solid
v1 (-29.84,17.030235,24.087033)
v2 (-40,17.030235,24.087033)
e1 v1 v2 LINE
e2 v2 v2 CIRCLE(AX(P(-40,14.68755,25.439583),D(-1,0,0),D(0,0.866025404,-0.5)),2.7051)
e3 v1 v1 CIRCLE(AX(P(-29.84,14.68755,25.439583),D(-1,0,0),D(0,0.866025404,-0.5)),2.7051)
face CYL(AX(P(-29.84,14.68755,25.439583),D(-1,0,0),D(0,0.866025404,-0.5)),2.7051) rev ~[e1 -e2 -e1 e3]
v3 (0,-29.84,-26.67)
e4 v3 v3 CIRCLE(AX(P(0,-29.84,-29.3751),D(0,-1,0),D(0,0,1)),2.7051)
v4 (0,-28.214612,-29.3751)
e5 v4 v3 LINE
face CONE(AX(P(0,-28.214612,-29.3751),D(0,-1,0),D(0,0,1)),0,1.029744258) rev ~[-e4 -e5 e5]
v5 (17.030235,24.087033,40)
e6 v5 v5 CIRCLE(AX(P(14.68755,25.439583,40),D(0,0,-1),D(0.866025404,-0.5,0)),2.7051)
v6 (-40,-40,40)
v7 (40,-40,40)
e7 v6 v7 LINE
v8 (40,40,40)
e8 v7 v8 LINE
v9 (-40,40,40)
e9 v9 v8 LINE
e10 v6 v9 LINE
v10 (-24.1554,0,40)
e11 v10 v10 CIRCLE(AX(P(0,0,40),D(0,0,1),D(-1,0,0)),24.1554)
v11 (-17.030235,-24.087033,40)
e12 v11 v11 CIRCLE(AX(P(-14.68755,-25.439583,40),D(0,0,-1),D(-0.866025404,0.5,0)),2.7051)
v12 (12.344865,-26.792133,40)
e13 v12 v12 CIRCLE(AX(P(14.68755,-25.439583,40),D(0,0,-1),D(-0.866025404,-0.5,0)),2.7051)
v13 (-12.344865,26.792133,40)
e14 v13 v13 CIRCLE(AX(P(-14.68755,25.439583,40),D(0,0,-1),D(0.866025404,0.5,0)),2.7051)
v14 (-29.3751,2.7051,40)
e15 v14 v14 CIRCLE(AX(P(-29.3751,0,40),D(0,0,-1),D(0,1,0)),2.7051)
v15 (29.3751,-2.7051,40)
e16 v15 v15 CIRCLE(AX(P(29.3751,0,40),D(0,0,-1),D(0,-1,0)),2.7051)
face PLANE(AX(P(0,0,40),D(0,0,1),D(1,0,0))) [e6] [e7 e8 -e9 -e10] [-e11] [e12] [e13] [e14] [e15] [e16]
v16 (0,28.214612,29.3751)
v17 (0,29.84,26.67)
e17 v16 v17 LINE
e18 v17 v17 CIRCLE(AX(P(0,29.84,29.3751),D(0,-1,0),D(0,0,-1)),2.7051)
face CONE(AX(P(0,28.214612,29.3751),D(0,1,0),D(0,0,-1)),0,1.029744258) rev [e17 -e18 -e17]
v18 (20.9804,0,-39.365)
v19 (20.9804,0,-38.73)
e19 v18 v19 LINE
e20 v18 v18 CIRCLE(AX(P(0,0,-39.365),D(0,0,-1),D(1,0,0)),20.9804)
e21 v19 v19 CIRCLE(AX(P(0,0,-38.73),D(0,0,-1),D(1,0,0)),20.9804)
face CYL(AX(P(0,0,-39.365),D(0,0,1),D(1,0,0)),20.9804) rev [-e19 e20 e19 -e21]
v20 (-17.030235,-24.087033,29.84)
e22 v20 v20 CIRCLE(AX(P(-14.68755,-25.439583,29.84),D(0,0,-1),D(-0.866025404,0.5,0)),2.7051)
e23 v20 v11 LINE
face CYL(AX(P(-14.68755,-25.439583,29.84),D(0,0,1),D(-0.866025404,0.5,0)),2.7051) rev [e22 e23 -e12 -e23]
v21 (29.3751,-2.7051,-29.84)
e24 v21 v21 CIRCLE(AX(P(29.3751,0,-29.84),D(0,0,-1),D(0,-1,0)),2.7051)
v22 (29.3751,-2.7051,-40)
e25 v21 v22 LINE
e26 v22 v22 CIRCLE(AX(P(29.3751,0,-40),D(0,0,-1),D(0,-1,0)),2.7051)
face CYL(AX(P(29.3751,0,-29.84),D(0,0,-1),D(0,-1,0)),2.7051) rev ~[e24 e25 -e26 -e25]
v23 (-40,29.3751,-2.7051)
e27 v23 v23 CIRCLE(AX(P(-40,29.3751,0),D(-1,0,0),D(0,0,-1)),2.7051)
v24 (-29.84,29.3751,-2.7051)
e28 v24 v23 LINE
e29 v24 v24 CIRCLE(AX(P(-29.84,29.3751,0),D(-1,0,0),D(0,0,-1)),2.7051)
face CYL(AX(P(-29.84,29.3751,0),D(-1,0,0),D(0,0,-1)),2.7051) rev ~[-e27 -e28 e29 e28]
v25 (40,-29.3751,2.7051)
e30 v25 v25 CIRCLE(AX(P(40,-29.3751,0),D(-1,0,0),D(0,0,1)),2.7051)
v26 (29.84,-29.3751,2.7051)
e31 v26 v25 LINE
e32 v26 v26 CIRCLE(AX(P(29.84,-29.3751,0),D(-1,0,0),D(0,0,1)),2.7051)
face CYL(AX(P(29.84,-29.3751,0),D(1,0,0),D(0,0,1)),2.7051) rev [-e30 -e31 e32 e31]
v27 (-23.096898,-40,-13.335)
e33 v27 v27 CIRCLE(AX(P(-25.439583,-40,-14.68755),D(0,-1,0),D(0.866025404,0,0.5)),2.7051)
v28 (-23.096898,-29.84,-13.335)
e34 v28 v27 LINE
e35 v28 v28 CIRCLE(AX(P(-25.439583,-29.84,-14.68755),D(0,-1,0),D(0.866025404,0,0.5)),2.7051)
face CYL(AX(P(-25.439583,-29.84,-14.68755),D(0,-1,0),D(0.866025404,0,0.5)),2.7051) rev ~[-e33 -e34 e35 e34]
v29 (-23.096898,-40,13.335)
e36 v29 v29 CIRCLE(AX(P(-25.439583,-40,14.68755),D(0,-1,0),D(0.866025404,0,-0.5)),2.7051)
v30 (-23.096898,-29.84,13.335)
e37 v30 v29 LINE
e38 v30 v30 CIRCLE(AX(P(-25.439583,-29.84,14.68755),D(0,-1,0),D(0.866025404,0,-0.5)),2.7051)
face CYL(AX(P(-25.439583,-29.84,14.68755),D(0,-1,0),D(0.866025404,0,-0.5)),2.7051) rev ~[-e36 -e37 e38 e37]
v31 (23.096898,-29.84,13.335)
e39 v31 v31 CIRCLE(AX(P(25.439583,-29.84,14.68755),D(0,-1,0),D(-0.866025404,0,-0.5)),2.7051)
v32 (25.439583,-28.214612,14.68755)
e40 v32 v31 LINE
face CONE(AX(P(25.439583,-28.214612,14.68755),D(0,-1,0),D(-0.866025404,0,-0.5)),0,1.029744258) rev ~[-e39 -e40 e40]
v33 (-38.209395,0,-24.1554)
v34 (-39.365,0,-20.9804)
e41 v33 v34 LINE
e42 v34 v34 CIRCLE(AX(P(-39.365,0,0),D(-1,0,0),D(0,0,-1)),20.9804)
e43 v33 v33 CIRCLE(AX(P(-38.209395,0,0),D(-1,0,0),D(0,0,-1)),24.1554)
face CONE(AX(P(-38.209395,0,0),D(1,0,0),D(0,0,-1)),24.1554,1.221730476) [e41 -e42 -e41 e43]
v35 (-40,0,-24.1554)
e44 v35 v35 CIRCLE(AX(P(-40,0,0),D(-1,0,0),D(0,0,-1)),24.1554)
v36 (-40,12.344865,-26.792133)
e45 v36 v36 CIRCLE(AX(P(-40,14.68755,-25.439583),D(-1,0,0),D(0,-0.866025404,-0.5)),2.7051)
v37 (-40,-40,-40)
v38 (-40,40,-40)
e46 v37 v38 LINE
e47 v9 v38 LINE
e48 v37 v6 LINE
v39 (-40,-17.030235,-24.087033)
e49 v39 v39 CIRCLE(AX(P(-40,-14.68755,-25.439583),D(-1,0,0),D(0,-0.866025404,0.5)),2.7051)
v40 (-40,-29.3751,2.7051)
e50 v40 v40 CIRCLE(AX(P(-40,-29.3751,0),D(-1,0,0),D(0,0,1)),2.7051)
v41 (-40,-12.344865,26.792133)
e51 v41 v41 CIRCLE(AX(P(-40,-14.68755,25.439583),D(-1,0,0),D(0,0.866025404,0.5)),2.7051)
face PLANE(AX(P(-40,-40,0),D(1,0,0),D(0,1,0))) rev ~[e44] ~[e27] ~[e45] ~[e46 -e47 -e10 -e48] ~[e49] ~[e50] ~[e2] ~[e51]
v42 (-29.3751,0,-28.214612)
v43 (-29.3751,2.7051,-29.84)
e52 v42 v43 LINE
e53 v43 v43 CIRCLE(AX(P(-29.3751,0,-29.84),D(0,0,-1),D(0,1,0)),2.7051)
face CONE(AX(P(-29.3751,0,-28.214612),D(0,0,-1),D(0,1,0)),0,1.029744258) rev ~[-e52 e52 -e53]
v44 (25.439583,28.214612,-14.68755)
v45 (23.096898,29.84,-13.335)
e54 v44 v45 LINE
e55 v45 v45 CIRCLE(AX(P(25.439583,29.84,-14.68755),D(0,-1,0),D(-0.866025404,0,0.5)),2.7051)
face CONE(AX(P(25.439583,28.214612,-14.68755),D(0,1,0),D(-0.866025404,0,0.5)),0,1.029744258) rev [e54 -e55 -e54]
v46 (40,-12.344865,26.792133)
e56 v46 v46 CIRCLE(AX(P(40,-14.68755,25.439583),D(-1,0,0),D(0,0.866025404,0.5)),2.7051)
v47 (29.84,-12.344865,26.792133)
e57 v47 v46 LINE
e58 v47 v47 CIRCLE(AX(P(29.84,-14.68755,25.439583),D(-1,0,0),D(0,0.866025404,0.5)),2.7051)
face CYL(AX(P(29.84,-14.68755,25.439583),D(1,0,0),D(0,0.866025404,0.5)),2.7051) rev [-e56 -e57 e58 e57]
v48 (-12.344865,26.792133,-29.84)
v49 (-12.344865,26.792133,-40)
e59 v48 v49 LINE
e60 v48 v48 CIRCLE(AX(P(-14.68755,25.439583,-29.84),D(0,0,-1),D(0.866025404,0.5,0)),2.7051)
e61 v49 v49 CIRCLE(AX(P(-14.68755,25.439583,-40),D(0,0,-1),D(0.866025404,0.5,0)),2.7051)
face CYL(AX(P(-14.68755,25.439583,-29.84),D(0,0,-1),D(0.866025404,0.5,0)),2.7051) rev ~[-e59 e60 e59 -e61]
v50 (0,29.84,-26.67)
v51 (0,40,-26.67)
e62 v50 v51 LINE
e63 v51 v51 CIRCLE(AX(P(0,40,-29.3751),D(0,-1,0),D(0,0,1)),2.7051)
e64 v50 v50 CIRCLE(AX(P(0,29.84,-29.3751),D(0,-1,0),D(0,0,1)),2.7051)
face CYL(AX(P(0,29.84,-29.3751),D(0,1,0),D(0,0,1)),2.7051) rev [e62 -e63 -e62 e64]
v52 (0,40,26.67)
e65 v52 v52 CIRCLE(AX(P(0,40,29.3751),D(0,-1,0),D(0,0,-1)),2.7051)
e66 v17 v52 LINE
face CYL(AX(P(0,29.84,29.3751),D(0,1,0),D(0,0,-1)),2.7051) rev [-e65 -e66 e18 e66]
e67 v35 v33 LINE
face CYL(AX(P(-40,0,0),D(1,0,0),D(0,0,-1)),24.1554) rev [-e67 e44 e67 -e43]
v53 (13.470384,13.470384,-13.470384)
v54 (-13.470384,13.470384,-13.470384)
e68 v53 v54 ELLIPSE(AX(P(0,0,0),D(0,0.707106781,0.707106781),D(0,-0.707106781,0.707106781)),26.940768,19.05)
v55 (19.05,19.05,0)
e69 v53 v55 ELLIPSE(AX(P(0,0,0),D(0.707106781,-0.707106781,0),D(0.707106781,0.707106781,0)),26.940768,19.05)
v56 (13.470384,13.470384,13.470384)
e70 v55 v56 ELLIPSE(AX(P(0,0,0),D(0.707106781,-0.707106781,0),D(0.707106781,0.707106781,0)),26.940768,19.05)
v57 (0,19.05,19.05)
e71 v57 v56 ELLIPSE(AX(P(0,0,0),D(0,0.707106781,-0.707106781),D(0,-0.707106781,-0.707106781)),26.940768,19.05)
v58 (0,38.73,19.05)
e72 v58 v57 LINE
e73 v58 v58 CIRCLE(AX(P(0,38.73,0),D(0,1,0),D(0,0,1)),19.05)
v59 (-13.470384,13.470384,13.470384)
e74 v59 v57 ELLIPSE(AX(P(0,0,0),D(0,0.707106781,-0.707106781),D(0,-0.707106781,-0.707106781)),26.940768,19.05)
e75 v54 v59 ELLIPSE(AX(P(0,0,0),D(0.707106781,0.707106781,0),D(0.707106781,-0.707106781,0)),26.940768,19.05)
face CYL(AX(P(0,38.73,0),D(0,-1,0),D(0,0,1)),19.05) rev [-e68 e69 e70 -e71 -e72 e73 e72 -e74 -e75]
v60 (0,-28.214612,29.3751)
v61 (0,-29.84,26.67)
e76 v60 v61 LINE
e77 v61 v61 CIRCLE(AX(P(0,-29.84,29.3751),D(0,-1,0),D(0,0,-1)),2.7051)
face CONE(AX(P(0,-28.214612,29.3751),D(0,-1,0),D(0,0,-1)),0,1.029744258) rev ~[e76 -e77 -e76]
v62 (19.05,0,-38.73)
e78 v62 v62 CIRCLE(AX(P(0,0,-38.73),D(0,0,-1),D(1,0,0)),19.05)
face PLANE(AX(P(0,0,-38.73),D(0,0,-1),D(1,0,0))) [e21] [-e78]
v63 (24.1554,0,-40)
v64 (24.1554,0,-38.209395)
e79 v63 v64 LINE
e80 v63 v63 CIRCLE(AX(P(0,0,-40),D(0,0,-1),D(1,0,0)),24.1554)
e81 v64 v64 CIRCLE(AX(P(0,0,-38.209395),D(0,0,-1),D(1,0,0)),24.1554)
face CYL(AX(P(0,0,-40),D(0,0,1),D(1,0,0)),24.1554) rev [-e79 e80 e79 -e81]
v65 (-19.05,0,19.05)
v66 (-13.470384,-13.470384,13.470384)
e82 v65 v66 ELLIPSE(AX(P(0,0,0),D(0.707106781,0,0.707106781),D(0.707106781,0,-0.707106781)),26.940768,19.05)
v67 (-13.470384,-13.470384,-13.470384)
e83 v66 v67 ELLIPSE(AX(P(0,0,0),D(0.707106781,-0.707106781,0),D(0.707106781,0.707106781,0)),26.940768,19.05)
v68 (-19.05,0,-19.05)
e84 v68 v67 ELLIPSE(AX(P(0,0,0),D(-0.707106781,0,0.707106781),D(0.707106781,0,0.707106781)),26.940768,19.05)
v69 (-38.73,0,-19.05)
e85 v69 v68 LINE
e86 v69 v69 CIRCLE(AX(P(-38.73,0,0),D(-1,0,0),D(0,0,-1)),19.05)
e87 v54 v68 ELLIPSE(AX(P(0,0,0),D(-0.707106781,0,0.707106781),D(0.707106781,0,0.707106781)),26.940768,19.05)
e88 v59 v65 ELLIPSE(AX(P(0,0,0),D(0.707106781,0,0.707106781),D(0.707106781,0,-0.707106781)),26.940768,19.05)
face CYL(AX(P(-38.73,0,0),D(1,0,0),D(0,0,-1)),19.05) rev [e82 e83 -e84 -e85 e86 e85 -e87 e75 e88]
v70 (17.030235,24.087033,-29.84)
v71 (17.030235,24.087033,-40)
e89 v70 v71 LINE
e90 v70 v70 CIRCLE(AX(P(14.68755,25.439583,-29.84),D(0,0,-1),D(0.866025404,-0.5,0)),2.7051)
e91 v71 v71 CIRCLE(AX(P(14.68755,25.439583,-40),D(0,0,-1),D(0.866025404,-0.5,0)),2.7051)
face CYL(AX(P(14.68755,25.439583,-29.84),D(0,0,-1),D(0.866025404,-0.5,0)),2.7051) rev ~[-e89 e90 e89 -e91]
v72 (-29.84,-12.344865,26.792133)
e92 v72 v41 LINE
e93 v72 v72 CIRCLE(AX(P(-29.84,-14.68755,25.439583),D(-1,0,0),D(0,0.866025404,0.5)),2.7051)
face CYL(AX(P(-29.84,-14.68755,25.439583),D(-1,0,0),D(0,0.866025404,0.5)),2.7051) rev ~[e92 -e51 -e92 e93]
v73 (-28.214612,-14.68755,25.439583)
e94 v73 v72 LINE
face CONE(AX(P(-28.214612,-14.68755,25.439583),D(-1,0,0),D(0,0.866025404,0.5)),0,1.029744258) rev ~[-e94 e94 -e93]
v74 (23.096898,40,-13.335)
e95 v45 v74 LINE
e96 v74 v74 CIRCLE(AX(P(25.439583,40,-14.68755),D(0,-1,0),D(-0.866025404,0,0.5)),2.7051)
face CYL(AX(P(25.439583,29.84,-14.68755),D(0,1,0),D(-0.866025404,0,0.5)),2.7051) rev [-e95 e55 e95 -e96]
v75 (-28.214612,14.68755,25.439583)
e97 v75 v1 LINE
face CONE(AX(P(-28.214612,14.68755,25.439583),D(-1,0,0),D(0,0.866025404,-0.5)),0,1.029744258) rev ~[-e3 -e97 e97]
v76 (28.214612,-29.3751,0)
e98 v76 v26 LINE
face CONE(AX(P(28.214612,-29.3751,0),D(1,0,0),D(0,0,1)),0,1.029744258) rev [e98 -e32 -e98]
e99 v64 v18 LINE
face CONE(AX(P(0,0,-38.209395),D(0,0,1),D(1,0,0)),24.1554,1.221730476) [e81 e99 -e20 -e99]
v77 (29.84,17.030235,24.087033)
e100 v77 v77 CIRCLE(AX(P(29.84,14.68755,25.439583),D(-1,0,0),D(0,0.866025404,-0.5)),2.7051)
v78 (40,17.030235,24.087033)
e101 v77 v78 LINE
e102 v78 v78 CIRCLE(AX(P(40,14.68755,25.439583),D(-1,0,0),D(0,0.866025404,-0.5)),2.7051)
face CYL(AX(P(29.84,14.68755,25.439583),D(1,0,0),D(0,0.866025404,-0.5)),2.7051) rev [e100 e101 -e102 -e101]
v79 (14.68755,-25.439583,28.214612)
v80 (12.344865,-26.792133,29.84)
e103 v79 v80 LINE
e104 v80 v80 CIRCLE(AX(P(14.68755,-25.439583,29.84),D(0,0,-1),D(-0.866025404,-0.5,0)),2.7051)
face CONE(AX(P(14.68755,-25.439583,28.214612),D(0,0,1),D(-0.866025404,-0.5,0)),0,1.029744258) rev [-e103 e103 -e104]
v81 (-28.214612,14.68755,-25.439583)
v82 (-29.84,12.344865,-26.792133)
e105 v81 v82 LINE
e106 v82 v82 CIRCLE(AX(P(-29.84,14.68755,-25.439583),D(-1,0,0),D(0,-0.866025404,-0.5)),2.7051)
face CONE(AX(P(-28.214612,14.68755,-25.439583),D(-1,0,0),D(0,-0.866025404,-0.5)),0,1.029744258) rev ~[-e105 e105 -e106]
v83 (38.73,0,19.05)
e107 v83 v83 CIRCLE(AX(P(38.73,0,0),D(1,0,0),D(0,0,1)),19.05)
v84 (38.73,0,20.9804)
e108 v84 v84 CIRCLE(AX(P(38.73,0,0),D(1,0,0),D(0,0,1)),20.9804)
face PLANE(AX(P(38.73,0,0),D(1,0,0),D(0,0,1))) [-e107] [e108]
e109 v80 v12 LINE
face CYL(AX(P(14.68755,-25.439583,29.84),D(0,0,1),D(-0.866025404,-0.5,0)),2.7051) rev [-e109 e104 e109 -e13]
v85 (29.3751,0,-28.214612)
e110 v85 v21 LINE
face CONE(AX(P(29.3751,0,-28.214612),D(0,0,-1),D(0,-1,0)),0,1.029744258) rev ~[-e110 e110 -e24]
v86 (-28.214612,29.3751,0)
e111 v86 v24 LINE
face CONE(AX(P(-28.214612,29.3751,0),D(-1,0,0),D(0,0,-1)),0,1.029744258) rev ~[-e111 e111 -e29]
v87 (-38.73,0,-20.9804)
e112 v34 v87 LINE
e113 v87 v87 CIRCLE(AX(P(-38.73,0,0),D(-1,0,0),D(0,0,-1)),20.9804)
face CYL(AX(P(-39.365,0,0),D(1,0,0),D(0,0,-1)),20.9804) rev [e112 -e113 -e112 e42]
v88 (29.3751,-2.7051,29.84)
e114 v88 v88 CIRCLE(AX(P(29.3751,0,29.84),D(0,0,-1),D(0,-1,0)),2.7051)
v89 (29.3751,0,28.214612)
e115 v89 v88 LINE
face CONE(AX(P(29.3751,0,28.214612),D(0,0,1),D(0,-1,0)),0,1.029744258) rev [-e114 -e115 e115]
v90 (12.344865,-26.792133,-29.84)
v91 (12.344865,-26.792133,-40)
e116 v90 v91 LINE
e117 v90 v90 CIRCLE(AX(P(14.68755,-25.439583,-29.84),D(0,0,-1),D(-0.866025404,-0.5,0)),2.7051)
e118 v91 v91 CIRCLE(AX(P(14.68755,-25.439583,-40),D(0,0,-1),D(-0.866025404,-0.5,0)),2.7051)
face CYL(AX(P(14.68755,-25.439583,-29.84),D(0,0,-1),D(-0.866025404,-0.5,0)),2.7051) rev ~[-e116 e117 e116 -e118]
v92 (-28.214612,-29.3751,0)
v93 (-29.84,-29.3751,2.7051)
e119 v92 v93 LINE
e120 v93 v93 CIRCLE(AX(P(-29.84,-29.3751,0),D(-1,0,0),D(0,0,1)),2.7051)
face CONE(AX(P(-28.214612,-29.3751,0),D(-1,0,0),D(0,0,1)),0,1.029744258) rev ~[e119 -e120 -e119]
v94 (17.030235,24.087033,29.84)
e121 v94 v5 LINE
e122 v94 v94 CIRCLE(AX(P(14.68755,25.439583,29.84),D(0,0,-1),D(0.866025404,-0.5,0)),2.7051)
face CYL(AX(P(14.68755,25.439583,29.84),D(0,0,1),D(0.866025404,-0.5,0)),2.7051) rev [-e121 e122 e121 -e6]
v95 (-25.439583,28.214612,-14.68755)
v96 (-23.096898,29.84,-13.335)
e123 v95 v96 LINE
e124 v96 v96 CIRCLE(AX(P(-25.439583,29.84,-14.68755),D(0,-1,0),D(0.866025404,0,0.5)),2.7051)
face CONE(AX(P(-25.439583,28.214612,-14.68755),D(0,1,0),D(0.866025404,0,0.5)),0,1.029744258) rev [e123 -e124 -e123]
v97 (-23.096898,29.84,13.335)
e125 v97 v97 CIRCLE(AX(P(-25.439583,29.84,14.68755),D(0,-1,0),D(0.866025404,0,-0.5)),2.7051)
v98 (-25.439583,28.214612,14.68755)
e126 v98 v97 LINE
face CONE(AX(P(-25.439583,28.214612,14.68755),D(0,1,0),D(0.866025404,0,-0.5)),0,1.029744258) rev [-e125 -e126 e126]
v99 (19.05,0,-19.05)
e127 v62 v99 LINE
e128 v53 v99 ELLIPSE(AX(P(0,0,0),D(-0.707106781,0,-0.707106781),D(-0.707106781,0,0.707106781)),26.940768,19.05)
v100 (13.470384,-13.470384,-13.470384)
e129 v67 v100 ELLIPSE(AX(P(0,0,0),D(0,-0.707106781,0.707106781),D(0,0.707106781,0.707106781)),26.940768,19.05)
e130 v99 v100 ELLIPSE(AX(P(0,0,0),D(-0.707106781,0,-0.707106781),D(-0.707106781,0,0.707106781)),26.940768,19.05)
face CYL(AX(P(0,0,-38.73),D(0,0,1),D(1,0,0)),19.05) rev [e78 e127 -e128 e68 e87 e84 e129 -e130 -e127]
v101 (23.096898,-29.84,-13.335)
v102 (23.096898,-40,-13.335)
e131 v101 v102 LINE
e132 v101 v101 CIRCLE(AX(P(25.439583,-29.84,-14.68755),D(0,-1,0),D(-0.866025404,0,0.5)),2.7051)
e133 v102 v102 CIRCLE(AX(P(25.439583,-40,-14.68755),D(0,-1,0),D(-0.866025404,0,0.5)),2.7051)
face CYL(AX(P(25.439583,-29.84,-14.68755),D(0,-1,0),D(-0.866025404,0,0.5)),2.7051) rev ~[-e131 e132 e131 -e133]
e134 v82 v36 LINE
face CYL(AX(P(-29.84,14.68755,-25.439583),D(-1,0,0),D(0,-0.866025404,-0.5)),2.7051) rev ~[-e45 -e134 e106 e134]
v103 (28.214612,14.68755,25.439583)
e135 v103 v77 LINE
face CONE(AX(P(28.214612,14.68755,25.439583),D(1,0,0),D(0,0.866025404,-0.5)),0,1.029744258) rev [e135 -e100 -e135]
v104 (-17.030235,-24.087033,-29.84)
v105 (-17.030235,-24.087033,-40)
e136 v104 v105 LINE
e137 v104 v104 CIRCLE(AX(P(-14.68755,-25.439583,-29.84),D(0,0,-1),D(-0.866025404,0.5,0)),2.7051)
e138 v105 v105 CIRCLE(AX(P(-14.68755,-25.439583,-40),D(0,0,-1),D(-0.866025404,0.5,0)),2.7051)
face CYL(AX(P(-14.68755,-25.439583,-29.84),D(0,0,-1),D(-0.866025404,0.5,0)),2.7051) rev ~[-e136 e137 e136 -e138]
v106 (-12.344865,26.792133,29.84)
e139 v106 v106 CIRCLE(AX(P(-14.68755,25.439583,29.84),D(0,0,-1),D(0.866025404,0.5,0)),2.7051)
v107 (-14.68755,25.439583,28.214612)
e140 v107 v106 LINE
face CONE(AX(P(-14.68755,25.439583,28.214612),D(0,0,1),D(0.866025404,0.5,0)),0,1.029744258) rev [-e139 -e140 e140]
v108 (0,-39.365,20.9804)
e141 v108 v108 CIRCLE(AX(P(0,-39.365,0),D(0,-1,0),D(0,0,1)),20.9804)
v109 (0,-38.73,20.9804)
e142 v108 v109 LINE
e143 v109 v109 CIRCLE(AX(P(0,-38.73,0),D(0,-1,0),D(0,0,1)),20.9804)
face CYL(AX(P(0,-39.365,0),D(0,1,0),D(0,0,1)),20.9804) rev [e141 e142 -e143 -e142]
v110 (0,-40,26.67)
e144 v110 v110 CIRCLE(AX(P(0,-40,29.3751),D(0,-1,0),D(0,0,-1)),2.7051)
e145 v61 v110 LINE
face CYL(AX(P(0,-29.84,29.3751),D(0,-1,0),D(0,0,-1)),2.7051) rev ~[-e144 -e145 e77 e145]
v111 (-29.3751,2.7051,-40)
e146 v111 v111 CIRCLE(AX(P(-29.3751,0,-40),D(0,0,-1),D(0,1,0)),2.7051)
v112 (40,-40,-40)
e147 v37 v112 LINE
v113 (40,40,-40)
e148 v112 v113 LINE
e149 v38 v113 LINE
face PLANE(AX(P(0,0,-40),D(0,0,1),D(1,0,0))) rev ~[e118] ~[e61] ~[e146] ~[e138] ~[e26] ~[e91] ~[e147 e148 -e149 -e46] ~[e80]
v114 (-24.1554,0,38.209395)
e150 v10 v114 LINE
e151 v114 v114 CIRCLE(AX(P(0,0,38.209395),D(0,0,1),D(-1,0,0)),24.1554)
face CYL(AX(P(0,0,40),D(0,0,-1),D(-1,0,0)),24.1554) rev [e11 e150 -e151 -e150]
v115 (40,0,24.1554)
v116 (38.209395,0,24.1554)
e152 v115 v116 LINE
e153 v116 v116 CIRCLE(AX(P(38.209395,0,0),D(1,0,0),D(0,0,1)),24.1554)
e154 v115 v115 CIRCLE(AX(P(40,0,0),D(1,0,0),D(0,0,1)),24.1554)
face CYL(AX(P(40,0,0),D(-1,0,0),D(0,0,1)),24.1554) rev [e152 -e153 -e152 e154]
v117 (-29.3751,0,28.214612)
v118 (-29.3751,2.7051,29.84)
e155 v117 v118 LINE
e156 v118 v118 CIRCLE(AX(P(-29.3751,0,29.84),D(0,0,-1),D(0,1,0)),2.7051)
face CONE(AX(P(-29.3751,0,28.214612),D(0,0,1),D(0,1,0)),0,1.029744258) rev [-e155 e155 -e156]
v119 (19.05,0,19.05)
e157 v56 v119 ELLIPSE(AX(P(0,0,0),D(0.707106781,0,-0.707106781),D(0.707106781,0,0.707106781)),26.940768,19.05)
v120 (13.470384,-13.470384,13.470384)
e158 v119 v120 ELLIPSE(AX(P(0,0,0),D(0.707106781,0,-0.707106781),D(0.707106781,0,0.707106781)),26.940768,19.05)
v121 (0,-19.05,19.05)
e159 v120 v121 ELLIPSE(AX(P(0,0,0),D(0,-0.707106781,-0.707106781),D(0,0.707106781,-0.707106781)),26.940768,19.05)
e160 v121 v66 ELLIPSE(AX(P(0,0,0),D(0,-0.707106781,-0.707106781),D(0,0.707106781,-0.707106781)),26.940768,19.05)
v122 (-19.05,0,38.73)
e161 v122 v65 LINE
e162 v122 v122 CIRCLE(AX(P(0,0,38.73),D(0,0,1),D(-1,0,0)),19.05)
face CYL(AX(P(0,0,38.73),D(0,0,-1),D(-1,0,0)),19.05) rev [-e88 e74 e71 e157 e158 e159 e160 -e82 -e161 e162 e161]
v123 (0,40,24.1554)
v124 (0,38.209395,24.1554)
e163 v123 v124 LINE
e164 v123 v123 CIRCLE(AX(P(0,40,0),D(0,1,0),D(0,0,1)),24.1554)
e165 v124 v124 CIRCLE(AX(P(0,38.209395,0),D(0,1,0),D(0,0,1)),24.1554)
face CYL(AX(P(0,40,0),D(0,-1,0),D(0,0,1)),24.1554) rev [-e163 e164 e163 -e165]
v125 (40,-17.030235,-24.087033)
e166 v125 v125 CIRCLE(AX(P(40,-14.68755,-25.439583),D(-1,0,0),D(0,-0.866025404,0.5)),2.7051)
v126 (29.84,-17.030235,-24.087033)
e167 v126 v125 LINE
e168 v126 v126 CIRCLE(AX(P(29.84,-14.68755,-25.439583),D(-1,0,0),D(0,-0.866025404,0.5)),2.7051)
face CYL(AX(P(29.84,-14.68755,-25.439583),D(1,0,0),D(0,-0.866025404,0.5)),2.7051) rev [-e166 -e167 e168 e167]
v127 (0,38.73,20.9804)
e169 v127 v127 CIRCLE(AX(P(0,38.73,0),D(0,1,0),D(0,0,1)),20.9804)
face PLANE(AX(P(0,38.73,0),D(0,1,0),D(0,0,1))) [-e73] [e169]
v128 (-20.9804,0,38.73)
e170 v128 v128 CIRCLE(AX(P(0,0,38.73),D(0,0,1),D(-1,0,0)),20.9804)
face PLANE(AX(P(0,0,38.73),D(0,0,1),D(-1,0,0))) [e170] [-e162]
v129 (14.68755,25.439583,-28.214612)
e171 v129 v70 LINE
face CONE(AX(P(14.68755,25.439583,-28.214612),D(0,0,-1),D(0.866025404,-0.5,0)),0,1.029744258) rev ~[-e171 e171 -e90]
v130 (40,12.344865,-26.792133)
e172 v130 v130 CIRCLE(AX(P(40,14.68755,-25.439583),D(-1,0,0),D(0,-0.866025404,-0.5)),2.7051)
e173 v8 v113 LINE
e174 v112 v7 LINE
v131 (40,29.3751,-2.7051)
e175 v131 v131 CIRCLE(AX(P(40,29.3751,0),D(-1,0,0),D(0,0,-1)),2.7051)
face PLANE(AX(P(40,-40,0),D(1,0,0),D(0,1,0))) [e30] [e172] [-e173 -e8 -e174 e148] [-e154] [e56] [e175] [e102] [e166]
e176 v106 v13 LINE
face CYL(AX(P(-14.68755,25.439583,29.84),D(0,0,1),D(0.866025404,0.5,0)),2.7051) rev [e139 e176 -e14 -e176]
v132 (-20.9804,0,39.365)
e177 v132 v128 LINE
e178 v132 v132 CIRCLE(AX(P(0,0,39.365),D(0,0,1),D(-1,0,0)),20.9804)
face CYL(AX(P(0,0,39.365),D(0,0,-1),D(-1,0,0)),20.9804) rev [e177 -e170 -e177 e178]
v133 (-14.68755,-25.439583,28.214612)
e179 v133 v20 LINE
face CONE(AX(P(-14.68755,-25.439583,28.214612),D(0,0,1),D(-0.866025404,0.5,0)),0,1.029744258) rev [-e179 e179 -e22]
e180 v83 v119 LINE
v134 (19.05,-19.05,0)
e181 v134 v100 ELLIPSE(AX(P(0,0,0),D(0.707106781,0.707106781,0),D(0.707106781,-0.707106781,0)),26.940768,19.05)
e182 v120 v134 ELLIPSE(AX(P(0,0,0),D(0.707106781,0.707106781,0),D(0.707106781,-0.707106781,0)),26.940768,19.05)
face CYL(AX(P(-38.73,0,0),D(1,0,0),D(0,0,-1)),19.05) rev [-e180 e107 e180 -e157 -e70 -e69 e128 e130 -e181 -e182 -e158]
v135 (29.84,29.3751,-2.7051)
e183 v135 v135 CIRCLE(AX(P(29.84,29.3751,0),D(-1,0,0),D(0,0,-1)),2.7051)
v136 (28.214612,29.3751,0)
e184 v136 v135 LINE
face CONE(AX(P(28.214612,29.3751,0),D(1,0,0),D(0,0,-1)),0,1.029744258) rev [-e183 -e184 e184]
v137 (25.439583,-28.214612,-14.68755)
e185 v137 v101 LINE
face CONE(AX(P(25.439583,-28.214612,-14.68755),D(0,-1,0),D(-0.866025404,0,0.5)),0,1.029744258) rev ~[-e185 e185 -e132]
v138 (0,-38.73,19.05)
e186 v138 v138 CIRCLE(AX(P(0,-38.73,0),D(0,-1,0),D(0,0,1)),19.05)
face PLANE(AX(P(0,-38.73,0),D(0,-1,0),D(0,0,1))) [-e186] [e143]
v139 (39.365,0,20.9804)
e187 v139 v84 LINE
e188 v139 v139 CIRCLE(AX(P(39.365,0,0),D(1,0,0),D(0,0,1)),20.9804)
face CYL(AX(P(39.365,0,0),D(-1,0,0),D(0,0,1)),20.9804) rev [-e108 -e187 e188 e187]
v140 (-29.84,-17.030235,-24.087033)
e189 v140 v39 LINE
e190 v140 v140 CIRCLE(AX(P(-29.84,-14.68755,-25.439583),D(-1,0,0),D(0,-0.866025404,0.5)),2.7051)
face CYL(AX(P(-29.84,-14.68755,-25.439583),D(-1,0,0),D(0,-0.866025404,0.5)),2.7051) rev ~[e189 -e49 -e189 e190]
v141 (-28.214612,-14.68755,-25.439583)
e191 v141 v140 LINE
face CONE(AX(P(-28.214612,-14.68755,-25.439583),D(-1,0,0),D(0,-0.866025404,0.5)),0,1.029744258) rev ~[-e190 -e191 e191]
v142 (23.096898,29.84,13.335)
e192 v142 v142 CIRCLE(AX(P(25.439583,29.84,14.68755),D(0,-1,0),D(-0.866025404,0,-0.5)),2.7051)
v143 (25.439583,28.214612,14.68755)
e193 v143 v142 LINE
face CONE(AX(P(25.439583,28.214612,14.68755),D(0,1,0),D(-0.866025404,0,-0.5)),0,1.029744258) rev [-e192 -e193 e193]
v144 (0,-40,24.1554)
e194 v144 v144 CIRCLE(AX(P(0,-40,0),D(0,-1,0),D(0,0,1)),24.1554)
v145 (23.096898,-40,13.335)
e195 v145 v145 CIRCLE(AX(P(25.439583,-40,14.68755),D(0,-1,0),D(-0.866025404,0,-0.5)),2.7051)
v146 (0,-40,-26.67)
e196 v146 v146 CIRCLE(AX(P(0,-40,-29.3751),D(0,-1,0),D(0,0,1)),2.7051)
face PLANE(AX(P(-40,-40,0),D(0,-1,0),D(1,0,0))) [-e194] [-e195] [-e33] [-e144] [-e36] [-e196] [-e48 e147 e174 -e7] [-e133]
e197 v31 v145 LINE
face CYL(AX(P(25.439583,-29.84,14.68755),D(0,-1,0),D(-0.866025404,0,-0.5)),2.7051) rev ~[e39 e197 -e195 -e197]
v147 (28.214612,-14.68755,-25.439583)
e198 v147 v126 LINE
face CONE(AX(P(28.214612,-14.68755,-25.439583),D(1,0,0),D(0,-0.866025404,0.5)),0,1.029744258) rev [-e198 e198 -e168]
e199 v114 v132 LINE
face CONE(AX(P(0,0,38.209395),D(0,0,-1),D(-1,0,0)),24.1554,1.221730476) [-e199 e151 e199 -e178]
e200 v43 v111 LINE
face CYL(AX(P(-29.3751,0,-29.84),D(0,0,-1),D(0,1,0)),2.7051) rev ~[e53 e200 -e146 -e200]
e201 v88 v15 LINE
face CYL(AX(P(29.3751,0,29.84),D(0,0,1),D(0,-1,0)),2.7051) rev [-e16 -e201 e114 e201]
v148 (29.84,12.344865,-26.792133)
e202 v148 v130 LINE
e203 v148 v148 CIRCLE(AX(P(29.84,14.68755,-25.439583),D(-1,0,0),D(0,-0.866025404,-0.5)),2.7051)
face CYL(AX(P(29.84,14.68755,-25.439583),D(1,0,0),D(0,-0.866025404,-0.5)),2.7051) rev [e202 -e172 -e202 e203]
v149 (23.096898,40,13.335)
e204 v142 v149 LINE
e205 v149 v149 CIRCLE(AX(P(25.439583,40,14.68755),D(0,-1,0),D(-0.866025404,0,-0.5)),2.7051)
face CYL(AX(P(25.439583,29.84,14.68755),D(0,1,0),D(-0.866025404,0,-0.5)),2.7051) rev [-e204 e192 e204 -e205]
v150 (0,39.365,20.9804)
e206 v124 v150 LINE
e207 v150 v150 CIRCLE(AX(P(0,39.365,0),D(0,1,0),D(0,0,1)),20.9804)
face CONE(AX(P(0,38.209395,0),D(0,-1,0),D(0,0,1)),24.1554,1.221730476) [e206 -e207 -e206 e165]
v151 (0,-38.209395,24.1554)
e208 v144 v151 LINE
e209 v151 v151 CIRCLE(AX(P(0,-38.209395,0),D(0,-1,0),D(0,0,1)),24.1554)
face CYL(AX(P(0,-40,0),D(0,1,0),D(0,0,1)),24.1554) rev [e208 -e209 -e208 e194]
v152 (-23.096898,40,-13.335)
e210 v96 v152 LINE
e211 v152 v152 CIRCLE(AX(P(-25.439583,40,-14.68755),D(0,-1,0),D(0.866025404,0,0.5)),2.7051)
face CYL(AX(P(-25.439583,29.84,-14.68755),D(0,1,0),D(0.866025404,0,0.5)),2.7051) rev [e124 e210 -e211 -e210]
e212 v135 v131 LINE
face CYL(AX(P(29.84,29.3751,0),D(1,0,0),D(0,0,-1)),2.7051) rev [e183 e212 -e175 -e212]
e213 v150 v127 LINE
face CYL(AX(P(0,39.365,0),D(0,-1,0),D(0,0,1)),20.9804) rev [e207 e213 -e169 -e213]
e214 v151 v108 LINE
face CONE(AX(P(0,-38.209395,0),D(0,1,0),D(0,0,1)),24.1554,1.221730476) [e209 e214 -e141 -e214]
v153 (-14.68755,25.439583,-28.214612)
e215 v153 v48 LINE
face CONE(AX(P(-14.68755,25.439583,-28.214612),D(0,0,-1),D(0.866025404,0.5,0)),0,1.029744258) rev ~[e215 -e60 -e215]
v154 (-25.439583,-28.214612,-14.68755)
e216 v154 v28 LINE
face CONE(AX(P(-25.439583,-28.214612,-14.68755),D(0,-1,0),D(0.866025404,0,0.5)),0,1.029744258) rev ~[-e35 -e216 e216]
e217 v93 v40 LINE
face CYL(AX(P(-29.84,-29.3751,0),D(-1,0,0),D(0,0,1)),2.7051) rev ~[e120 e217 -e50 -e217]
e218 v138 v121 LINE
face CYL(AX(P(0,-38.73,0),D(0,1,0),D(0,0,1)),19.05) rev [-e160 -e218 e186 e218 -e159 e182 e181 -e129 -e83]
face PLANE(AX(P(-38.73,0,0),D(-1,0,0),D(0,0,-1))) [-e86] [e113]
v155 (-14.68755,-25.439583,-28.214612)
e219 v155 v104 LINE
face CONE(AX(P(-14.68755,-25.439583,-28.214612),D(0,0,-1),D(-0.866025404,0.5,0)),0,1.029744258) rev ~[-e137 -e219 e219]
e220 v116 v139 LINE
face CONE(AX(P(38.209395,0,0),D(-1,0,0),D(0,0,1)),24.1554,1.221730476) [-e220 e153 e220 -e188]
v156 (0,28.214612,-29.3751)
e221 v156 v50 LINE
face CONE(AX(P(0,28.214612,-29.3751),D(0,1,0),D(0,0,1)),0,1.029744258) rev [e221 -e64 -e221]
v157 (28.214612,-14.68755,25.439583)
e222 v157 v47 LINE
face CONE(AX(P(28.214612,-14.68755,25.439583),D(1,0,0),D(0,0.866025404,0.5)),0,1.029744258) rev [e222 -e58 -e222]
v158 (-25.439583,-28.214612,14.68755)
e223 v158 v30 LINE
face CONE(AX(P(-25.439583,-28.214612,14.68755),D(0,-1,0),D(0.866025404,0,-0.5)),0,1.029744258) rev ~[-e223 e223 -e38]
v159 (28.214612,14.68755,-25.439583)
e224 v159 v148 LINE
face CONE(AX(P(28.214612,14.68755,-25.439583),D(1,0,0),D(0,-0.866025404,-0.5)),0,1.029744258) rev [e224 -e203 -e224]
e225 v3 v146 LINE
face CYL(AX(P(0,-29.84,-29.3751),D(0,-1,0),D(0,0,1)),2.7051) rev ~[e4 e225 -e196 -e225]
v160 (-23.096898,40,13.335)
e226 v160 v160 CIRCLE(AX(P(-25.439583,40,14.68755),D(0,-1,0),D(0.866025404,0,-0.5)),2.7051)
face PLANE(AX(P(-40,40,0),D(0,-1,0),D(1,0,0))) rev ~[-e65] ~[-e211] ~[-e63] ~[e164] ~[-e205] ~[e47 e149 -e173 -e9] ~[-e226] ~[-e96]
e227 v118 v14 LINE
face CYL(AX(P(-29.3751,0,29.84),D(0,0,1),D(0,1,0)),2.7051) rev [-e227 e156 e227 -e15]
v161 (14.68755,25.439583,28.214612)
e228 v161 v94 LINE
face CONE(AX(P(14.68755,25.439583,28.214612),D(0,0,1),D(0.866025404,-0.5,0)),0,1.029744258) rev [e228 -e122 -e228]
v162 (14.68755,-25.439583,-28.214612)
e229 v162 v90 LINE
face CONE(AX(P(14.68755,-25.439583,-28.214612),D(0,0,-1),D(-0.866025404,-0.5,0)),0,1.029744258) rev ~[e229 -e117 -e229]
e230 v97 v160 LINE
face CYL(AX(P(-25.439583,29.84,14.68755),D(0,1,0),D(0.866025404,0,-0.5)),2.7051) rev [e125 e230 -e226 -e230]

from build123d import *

# Parameters (mm, degrees)
SKETCH1_W           = 80
SKETCH1_H           = 80
BOSS_EXTRUDE1_DEPTH = 40
CIRPATTERN1_COUNT   = 6
CIRPATTERN2_COUNT   = 6
CIRPATTERN3_COUNT   = 6
CIRPATTERN4_COUNT   = 4
CIRPATTERN5_COUNT   = 4


with BuildPart() as part:
    # Sketch1 → Boss-Extrude1 (new, symmetric)
    with BuildSketch(Plane.XY):
        Rectangle(SKETCH1_W, SKETCH1_H)
    extrude(amount=BOSS_EXTRUDE1_DEPTH, both=True)

    # Sketch6 → Cut-Revolve1 (revolve, cut)
    with BuildSketch(Plane.XY):
        Polygon((40, 24.1554), (38.209394506, 24.1554), (39.365, 20.9804), (38.73, 20.9804), (38.73, 19.05), (0, 19.05), (0, 0), (40, 0), align=None)
    cut_revolve1 = revolve(axis=Axis((40, 0, 0), (1, 0, 0)), mode=Mode.SUBTRACT)

    # Sketch5 → Tapped Hole0 (revolve, cut)
    with BuildSketch(Plane(origin=(40, 29.3751, 0), x_dir=(0, 0, -1), z_dir=(0, 1, 0))):
        Polygon((0, 0), (0, 11.785388009), (2.705099913, 10.16), (2.705099913, 0), align=None)
    tapped_hole0 = revolve(axis=Axis((46.35, 29.3751, 0), (-1, 0, 0)), mode=Mode.SUBTRACT)

    # Sketch8 → Tapped Hole1 (revolve, cut)
    with BuildSketch(Plane(origin=(0, 40, -29.3751), x_dir=(0, 0, 1), z_dir=(1, 0, 0))):
        Polygon((0, 0), (0, 11.785388009), (2.705099913, 10.16), (2.705099913, 0), align=None)
    tapped_hole1 = revolve(axis=Axis((0, 46.35, -29.3751), (0, -1, 0)), mode=Mode.SUBTRACT)

    # Sketch10 → Tapped Hole2 (revolve, cut)
    with BuildSketch(Plane(origin=(29.3751, 0, 40), x_dir=(0, -1, 0), z_dir=(1, 0, 0))):
        Polygon((0, 0), (0, 11.785388009), (2.705099913, 10.16), (2.705099913, 0), align=None)
    tapped_hole2 = revolve(axis=Axis((29.3751, 0, 46.35), (0, 0, -1)), mode=Mode.SUBTRACT)

    # CirPattern1: Tapped Hole0 ×6 about axis
    cirpattern1_axis = Axis((-38.4175, 0, 0), (1, 0, 0))
    for i in range(1, CIRPATTERN1_COUNT):
        add(tapped_hole0.rotate(cirpattern1_axis, i * 360 / CIRPATTERN1_COUNT), mode=Mode.SUBTRACT)

    # CirPattern2: Tapped Hole1 ×6 about axis
    cirpattern2_axis = Axis((0, 38.4175, 0), (0, -1, 0))
    for i in range(1, CIRPATTERN2_COUNT):
        add(tapped_hole1.rotate(cirpattern2_axis, i * 360 / CIRPATTERN2_COUNT), mode=Mode.SUBTRACT)

    # CirPattern3: Tapped Hole2 ×6 about axis
    cirpattern3_axis = Axis((0, 0, 38.4175), (0, 0, -1))
    for i in range(1, CIRPATTERN3_COUNT):
        add(tapped_hole2.rotate(cirpattern3_axis, i * 360 / CIRPATTERN3_COUNT), mode=Mode.SUBTRACT)

    # CirPattern4: Cut-Revolve1 ×4 about axis
    cirpattern4_axis = Axis((0, 38.4175, 0), (0, -1, 0))
    for i in range(1, CIRPATTERN4_COUNT):
        add(cut_revolve1.rotate(cirpattern4_axis, i * 360 / CIRPATTERN4_COUNT), mode=Mode.SUBTRACT)

    # CirPattern5: Cut-Revolve1 ×4 about axis, 1 skipped
    cirpattern5_axis = Axis((0, 0, 38.4175), (0, 0, -1))
    add([cut_revolve1.rotate(cirpattern5_axis, i * 360 / CIRPATTERN5_COUNT) for i in range(1, CIRPATTERN5_COUNT) if i not in (2,)], mode=Mode.SUBTRACT)

    # Mirror1 copy 1 sketch → Mirror1 copy 1 (revolve, cut)
    with BuildSketch(Plane(origin=(14.68755, -25.439582839, -40), x_dir=(-0.8660254037844386, -0.5000000000000001, 0), z_dir=(0.5000000000000001, -0.8660254037844386, 0))):
        Polygon((0, 0), (0, -11.785388009), (2.705099913, -10.16), (2.705099913, 0), align=None)
    revolve(axis=Axis((14.68755, -25.439582839, -46.35), (0, 0, -1)), mode=Mode.SUBTRACT)

    # Mirror1 copy 2 sketch → Mirror1 copy 2 (revolve, cut)
    with BuildSketch(Plane(origin=(-14.68755, -25.439582839, -40), x_dir=(-0.8660254037844387, 0.4999999999999998, 0), z_dir=(-0.4999999999999998, -0.8660254037844387, 0))):
        Polygon((0, 0), (0, -11.785388009), (2.705099913, -10.16), (2.705099913, 0), align=None)
    revolve(axis=Axis((-14.68755, -25.439582839, -46.35), (0, 0, -1)), mode=Mode.SUBTRACT)

    # Mirror1 copy 3 sketch → Mirror1 copy 3 (revolve, cut)
    with BuildSketch(Plane(origin=(-29.3751, 0, -40), x_dir=(0, 1, 0), z_dir=(-1, 0, 0))):
        Polygon((0, 0), (0, -11.785388009), (2.705099913, -10.16), (2.705099913, 0), align=None)
    revolve(axis=Axis((-29.3751, 0, -46.35), (0, 0, -1)), mode=Mode.SUBTRACT)

    # Mirror1 copy 4 sketch → Mirror1 copy 4 (revolve, cut)
    with BuildSketch(Plane(origin=(-14.68755, 25.439582839, -40), x_dir=(0.8660254037844384, 0.5000000000000004, 0), z_dir=(-0.5000000000000004, 0.8660254037844384, 0))):
        Polygon((0, 0), (0, -11.785388009), (2.705099913, -10.16), (2.705099913, 0), align=None)
    revolve(axis=Axis((-14.68755, 25.439582839, -46.35), (0, 0, -1)), mode=Mode.SUBTRACT)

    # Mirror1 copy 5 sketch → Mirror1 copy 5 (revolve, cut)
    with BuildSketch(Plane(origin=(14.68755, 25.439582839, -40), x_dir=(0.8660254037844386, -0.5000000000000001, 0), z_dir=(0.5000000000000001, 0.8660254037844386, 0))):
        Polygon((0, 0), (0, -11.785388009), (2.705099913, -10.16), (2.705099913, 0), align=None)
    revolve(axis=Axis((14.68755, 25.439582839, -46.35), (0, 0, -1)), mode=Mode.SUBTRACT)

    # Mirror1 copy 6 sketch → Mirror1 copy 6 (revolve, cut)
    with BuildSketch(Plane(origin=(29.3751, 0, -40), x_dir=(0, -1, 0), z_dir=(1, 0, 0))):
        Polygon((0, 0), (0, -11.785388009), (2.705099913, -10.16), (2.705099913, 0), align=None)
    revolve(axis=Axis((29.3751, 0, -46.35), (0, 0, -1)), mode=Mode.SUBTRACT)

    # Mirror2 copy 1 sketch → Mirror2 copy 1 (revolve, cut)
    with BuildSketch(Plane(origin=(25.439582839, -40, -14.68755), x_dir=(-0.8660254037844386, 0, 0.5000000000000001), z_dir=(0.5000000000000001, 0, 0.8660254037844386))):
        Polygon((0, 0), (0, -11.785388009), (2.705099913, -10.16), (2.705099913, 0), align=None)
    revolve(axis=Axis((25.439582839, -46.35, -14.68755), (0, -1, 0)), mode=Mode.SUBTRACT)

    # Mirror2 copy 2 sketch → Mirror2 copy 2 (revolve, cut)
    with BuildSketch(Plane(origin=(25.439582839, -40, 14.68755), x_dir=(-0.8660254037844387, 0, -0.4999999999999998), z_dir=(-0.4999999999999998, 0, 0.8660254037844387))):
        Polygon((0, 0), (0, -11.785388009), (2.705099913, -10.16), (2.705099913, 0), align=None)
    revolve(axis=Axis((25.439582839, -46.35, 14.68755), (0, -1, 0)), mode=Mode.SUBTRACT)

    # Mirror2 copy 3 sketch → Mirror2 copy 3 (revolve, cut)
    with BuildSketch(Plane(origin=(0, -40, 29.3751), x_dir=(0, 0, -1), z_dir=(-1, 0, 0))):
        Polygon((0, 0), (0, -11.785388009), (2.705099913, -10.16), (2.705099913, 0), align=None)
    revolve(axis=Axis((0, -46.35, 29.3751), (0, -1, 0)), mode=Mode.SUBTRACT)

    # Mirror2 copy 4 sketch → Mirror2 copy 4 (revolve, cut)
    with BuildSketch(Plane(origin=(-25.439582839, -40, 14.68755), x_dir=(0.8660254037844384, 0, -0.5000000000000004), z_dir=(-0.5000000000000004, 0, -0.8660254037844384))):
        Polygon((0, 0), (0, -11.785388009), (2.705099913, -10.16), (2.705099913, 0), align=None)
    revolve(axis=Axis((-25.439582839, -46.35, 14.68755), (0, -1, 0)), mode=Mode.SUBTRACT)

    # Mirror2 copy 5 sketch → Mirror2 copy 5 (revolve, cut)
    with BuildSketch(Plane(origin=(-25.439582839, -40, -14.68755), x_dir=(0.8660254037844386, 0, 0.5000000000000001), z_dir=(0.5000000000000001, 0, -0.8660254037844386))):
        Polygon((0, 0), (0, -11.785388009), (2.705099913, -10.16), (2.705099913, 0), align=None)
    revolve(axis=Axis((-25.439582839, -46.35, -14.68755), (0, -1, 0)), mode=Mode.SUBTRACT)

    # Mirror2 copy 6 sketch → Mirror2 copy 6 (revolve, cut)
    with BuildSketch(Plane(origin=(0, -40, -29.3751), x_dir=(0, 0, 1), z_dir=(1, 0, 0))):
        Polygon((0, 0), (0, -11.785388009), (2.705099913, -10.16), (2.705099913, 0), align=None)
    revolve(axis=Axis((0, -46.35, -29.3751), (0, -1, 0)), mode=Mode.SUBTRACT)

    # Mirror3 copy 1 sketch → Mirror3 copy 1 (revolve, cut)
    with BuildSketch(Plane(origin=(-40, 14.68755, 25.439582839), x_dir=(0, 0.8660254037844386, -0.5000000000000001), z_dir=(0, 0.5000000000000001, 0.8660254037844386))):
        Polygon((0, 0), (0, -11.785388009), (2.705099913, -10.16), (2.705099913, 0), align=None)
    revolve(axis=Axis((-46.35, 14.68755, 25.439582839), (-1, 0, 0)), mode=Mode.SUBTRACT)

    # Mirror3 copy 2 sketch → Mirror3 copy 2 (revolve, cut)
    with BuildSketch(Plane(origin=(-40, -14.68755, 25.439582839), x_dir=(0, 0.8660254037844387, 0.4999999999999998), z_dir=(0, -0.4999999999999998, 0.8660254037844387))):
        Polygon((0, 0), (0, -11.785388009), (2.705099913, -10.16), (2.705099913, 0), align=None)
    revolve(axis=Axis((-46.35, -14.68755, 25.439582839), (-1, 0, 0)), mode=Mode.SUBTRACT)

    # Mirror3 copy 3 sketch → Mirror3 copy 3 (revolve, cut)
    with BuildSketch(Plane(origin=(-40, -29.3751, 0), x_dir=(0, 0, 1), z_dir=(0, -1, 0))):
        Polygon((0, 0), (0, -11.785388009), (2.705099913, -10.16), (2.705099913, 0), align=None)
    revolve(axis=Axis((-46.35, -29.3751, 0), (-1, 0, 0)), mode=Mode.SUBTRACT)

    # Mirror3 copy 4 sketch → Mirror3 copy 4 (revolve, cut)
    with BuildSketch(Plane(origin=(-40, -14.68755, -25.439582839), x_dir=(0, -0.8660254037844384, 0.5000000000000004), z_dir=(0, -0.5000000000000004, -0.8660254037844384))):
        Polygon((0, 0), (0, -11.785388009), (2.705099913, -10.16), (2.705099913, 0), align=None)
    revolve(axis=Axis((-46.35, -14.68755, -25.439582839), (-1, 0, 0)), mode=Mode.SUBTRACT)

    # Mirror3 copy 5 sketch → Mirror3 copy 5 (revolve, cut)
    with BuildSketch(Plane(origin=(-40, 14.68755, -25.439582839), x_dir=(0, -0.8660254037844386, -0.5000000000000001), z_dir=(0, 0.5000000000000001, -0.8660254037844386))):
        Polygon((0, 0), (0, -11.785388009), (2.705099913, -10.16), (2.705099913, 0), align=None)
    revolve(axis=Axis((-46.35, 14.68755, -25.439582839), (-1, 0, 0)), mode=Mode.SUBTRACT)

    # Mirror3 copy 6 sketch → Mirror3 copy 6 (revolve, cut)
    with BuildSketch(Plane(origin=(-40, 29.3751, 0), x_dir=(0, 0, -1), z_dir=(0, 1, 0))):
        Polygon((0, 0), (0, -11.785388009), (2.705099913, -10.16), (2.705099913, 0), align=None)
    revolve(axis=Axis((-46.35, 29.3751, 0), (-1, 0, 0)), mode=Mode.SUBTRACT)


solid = part.part
